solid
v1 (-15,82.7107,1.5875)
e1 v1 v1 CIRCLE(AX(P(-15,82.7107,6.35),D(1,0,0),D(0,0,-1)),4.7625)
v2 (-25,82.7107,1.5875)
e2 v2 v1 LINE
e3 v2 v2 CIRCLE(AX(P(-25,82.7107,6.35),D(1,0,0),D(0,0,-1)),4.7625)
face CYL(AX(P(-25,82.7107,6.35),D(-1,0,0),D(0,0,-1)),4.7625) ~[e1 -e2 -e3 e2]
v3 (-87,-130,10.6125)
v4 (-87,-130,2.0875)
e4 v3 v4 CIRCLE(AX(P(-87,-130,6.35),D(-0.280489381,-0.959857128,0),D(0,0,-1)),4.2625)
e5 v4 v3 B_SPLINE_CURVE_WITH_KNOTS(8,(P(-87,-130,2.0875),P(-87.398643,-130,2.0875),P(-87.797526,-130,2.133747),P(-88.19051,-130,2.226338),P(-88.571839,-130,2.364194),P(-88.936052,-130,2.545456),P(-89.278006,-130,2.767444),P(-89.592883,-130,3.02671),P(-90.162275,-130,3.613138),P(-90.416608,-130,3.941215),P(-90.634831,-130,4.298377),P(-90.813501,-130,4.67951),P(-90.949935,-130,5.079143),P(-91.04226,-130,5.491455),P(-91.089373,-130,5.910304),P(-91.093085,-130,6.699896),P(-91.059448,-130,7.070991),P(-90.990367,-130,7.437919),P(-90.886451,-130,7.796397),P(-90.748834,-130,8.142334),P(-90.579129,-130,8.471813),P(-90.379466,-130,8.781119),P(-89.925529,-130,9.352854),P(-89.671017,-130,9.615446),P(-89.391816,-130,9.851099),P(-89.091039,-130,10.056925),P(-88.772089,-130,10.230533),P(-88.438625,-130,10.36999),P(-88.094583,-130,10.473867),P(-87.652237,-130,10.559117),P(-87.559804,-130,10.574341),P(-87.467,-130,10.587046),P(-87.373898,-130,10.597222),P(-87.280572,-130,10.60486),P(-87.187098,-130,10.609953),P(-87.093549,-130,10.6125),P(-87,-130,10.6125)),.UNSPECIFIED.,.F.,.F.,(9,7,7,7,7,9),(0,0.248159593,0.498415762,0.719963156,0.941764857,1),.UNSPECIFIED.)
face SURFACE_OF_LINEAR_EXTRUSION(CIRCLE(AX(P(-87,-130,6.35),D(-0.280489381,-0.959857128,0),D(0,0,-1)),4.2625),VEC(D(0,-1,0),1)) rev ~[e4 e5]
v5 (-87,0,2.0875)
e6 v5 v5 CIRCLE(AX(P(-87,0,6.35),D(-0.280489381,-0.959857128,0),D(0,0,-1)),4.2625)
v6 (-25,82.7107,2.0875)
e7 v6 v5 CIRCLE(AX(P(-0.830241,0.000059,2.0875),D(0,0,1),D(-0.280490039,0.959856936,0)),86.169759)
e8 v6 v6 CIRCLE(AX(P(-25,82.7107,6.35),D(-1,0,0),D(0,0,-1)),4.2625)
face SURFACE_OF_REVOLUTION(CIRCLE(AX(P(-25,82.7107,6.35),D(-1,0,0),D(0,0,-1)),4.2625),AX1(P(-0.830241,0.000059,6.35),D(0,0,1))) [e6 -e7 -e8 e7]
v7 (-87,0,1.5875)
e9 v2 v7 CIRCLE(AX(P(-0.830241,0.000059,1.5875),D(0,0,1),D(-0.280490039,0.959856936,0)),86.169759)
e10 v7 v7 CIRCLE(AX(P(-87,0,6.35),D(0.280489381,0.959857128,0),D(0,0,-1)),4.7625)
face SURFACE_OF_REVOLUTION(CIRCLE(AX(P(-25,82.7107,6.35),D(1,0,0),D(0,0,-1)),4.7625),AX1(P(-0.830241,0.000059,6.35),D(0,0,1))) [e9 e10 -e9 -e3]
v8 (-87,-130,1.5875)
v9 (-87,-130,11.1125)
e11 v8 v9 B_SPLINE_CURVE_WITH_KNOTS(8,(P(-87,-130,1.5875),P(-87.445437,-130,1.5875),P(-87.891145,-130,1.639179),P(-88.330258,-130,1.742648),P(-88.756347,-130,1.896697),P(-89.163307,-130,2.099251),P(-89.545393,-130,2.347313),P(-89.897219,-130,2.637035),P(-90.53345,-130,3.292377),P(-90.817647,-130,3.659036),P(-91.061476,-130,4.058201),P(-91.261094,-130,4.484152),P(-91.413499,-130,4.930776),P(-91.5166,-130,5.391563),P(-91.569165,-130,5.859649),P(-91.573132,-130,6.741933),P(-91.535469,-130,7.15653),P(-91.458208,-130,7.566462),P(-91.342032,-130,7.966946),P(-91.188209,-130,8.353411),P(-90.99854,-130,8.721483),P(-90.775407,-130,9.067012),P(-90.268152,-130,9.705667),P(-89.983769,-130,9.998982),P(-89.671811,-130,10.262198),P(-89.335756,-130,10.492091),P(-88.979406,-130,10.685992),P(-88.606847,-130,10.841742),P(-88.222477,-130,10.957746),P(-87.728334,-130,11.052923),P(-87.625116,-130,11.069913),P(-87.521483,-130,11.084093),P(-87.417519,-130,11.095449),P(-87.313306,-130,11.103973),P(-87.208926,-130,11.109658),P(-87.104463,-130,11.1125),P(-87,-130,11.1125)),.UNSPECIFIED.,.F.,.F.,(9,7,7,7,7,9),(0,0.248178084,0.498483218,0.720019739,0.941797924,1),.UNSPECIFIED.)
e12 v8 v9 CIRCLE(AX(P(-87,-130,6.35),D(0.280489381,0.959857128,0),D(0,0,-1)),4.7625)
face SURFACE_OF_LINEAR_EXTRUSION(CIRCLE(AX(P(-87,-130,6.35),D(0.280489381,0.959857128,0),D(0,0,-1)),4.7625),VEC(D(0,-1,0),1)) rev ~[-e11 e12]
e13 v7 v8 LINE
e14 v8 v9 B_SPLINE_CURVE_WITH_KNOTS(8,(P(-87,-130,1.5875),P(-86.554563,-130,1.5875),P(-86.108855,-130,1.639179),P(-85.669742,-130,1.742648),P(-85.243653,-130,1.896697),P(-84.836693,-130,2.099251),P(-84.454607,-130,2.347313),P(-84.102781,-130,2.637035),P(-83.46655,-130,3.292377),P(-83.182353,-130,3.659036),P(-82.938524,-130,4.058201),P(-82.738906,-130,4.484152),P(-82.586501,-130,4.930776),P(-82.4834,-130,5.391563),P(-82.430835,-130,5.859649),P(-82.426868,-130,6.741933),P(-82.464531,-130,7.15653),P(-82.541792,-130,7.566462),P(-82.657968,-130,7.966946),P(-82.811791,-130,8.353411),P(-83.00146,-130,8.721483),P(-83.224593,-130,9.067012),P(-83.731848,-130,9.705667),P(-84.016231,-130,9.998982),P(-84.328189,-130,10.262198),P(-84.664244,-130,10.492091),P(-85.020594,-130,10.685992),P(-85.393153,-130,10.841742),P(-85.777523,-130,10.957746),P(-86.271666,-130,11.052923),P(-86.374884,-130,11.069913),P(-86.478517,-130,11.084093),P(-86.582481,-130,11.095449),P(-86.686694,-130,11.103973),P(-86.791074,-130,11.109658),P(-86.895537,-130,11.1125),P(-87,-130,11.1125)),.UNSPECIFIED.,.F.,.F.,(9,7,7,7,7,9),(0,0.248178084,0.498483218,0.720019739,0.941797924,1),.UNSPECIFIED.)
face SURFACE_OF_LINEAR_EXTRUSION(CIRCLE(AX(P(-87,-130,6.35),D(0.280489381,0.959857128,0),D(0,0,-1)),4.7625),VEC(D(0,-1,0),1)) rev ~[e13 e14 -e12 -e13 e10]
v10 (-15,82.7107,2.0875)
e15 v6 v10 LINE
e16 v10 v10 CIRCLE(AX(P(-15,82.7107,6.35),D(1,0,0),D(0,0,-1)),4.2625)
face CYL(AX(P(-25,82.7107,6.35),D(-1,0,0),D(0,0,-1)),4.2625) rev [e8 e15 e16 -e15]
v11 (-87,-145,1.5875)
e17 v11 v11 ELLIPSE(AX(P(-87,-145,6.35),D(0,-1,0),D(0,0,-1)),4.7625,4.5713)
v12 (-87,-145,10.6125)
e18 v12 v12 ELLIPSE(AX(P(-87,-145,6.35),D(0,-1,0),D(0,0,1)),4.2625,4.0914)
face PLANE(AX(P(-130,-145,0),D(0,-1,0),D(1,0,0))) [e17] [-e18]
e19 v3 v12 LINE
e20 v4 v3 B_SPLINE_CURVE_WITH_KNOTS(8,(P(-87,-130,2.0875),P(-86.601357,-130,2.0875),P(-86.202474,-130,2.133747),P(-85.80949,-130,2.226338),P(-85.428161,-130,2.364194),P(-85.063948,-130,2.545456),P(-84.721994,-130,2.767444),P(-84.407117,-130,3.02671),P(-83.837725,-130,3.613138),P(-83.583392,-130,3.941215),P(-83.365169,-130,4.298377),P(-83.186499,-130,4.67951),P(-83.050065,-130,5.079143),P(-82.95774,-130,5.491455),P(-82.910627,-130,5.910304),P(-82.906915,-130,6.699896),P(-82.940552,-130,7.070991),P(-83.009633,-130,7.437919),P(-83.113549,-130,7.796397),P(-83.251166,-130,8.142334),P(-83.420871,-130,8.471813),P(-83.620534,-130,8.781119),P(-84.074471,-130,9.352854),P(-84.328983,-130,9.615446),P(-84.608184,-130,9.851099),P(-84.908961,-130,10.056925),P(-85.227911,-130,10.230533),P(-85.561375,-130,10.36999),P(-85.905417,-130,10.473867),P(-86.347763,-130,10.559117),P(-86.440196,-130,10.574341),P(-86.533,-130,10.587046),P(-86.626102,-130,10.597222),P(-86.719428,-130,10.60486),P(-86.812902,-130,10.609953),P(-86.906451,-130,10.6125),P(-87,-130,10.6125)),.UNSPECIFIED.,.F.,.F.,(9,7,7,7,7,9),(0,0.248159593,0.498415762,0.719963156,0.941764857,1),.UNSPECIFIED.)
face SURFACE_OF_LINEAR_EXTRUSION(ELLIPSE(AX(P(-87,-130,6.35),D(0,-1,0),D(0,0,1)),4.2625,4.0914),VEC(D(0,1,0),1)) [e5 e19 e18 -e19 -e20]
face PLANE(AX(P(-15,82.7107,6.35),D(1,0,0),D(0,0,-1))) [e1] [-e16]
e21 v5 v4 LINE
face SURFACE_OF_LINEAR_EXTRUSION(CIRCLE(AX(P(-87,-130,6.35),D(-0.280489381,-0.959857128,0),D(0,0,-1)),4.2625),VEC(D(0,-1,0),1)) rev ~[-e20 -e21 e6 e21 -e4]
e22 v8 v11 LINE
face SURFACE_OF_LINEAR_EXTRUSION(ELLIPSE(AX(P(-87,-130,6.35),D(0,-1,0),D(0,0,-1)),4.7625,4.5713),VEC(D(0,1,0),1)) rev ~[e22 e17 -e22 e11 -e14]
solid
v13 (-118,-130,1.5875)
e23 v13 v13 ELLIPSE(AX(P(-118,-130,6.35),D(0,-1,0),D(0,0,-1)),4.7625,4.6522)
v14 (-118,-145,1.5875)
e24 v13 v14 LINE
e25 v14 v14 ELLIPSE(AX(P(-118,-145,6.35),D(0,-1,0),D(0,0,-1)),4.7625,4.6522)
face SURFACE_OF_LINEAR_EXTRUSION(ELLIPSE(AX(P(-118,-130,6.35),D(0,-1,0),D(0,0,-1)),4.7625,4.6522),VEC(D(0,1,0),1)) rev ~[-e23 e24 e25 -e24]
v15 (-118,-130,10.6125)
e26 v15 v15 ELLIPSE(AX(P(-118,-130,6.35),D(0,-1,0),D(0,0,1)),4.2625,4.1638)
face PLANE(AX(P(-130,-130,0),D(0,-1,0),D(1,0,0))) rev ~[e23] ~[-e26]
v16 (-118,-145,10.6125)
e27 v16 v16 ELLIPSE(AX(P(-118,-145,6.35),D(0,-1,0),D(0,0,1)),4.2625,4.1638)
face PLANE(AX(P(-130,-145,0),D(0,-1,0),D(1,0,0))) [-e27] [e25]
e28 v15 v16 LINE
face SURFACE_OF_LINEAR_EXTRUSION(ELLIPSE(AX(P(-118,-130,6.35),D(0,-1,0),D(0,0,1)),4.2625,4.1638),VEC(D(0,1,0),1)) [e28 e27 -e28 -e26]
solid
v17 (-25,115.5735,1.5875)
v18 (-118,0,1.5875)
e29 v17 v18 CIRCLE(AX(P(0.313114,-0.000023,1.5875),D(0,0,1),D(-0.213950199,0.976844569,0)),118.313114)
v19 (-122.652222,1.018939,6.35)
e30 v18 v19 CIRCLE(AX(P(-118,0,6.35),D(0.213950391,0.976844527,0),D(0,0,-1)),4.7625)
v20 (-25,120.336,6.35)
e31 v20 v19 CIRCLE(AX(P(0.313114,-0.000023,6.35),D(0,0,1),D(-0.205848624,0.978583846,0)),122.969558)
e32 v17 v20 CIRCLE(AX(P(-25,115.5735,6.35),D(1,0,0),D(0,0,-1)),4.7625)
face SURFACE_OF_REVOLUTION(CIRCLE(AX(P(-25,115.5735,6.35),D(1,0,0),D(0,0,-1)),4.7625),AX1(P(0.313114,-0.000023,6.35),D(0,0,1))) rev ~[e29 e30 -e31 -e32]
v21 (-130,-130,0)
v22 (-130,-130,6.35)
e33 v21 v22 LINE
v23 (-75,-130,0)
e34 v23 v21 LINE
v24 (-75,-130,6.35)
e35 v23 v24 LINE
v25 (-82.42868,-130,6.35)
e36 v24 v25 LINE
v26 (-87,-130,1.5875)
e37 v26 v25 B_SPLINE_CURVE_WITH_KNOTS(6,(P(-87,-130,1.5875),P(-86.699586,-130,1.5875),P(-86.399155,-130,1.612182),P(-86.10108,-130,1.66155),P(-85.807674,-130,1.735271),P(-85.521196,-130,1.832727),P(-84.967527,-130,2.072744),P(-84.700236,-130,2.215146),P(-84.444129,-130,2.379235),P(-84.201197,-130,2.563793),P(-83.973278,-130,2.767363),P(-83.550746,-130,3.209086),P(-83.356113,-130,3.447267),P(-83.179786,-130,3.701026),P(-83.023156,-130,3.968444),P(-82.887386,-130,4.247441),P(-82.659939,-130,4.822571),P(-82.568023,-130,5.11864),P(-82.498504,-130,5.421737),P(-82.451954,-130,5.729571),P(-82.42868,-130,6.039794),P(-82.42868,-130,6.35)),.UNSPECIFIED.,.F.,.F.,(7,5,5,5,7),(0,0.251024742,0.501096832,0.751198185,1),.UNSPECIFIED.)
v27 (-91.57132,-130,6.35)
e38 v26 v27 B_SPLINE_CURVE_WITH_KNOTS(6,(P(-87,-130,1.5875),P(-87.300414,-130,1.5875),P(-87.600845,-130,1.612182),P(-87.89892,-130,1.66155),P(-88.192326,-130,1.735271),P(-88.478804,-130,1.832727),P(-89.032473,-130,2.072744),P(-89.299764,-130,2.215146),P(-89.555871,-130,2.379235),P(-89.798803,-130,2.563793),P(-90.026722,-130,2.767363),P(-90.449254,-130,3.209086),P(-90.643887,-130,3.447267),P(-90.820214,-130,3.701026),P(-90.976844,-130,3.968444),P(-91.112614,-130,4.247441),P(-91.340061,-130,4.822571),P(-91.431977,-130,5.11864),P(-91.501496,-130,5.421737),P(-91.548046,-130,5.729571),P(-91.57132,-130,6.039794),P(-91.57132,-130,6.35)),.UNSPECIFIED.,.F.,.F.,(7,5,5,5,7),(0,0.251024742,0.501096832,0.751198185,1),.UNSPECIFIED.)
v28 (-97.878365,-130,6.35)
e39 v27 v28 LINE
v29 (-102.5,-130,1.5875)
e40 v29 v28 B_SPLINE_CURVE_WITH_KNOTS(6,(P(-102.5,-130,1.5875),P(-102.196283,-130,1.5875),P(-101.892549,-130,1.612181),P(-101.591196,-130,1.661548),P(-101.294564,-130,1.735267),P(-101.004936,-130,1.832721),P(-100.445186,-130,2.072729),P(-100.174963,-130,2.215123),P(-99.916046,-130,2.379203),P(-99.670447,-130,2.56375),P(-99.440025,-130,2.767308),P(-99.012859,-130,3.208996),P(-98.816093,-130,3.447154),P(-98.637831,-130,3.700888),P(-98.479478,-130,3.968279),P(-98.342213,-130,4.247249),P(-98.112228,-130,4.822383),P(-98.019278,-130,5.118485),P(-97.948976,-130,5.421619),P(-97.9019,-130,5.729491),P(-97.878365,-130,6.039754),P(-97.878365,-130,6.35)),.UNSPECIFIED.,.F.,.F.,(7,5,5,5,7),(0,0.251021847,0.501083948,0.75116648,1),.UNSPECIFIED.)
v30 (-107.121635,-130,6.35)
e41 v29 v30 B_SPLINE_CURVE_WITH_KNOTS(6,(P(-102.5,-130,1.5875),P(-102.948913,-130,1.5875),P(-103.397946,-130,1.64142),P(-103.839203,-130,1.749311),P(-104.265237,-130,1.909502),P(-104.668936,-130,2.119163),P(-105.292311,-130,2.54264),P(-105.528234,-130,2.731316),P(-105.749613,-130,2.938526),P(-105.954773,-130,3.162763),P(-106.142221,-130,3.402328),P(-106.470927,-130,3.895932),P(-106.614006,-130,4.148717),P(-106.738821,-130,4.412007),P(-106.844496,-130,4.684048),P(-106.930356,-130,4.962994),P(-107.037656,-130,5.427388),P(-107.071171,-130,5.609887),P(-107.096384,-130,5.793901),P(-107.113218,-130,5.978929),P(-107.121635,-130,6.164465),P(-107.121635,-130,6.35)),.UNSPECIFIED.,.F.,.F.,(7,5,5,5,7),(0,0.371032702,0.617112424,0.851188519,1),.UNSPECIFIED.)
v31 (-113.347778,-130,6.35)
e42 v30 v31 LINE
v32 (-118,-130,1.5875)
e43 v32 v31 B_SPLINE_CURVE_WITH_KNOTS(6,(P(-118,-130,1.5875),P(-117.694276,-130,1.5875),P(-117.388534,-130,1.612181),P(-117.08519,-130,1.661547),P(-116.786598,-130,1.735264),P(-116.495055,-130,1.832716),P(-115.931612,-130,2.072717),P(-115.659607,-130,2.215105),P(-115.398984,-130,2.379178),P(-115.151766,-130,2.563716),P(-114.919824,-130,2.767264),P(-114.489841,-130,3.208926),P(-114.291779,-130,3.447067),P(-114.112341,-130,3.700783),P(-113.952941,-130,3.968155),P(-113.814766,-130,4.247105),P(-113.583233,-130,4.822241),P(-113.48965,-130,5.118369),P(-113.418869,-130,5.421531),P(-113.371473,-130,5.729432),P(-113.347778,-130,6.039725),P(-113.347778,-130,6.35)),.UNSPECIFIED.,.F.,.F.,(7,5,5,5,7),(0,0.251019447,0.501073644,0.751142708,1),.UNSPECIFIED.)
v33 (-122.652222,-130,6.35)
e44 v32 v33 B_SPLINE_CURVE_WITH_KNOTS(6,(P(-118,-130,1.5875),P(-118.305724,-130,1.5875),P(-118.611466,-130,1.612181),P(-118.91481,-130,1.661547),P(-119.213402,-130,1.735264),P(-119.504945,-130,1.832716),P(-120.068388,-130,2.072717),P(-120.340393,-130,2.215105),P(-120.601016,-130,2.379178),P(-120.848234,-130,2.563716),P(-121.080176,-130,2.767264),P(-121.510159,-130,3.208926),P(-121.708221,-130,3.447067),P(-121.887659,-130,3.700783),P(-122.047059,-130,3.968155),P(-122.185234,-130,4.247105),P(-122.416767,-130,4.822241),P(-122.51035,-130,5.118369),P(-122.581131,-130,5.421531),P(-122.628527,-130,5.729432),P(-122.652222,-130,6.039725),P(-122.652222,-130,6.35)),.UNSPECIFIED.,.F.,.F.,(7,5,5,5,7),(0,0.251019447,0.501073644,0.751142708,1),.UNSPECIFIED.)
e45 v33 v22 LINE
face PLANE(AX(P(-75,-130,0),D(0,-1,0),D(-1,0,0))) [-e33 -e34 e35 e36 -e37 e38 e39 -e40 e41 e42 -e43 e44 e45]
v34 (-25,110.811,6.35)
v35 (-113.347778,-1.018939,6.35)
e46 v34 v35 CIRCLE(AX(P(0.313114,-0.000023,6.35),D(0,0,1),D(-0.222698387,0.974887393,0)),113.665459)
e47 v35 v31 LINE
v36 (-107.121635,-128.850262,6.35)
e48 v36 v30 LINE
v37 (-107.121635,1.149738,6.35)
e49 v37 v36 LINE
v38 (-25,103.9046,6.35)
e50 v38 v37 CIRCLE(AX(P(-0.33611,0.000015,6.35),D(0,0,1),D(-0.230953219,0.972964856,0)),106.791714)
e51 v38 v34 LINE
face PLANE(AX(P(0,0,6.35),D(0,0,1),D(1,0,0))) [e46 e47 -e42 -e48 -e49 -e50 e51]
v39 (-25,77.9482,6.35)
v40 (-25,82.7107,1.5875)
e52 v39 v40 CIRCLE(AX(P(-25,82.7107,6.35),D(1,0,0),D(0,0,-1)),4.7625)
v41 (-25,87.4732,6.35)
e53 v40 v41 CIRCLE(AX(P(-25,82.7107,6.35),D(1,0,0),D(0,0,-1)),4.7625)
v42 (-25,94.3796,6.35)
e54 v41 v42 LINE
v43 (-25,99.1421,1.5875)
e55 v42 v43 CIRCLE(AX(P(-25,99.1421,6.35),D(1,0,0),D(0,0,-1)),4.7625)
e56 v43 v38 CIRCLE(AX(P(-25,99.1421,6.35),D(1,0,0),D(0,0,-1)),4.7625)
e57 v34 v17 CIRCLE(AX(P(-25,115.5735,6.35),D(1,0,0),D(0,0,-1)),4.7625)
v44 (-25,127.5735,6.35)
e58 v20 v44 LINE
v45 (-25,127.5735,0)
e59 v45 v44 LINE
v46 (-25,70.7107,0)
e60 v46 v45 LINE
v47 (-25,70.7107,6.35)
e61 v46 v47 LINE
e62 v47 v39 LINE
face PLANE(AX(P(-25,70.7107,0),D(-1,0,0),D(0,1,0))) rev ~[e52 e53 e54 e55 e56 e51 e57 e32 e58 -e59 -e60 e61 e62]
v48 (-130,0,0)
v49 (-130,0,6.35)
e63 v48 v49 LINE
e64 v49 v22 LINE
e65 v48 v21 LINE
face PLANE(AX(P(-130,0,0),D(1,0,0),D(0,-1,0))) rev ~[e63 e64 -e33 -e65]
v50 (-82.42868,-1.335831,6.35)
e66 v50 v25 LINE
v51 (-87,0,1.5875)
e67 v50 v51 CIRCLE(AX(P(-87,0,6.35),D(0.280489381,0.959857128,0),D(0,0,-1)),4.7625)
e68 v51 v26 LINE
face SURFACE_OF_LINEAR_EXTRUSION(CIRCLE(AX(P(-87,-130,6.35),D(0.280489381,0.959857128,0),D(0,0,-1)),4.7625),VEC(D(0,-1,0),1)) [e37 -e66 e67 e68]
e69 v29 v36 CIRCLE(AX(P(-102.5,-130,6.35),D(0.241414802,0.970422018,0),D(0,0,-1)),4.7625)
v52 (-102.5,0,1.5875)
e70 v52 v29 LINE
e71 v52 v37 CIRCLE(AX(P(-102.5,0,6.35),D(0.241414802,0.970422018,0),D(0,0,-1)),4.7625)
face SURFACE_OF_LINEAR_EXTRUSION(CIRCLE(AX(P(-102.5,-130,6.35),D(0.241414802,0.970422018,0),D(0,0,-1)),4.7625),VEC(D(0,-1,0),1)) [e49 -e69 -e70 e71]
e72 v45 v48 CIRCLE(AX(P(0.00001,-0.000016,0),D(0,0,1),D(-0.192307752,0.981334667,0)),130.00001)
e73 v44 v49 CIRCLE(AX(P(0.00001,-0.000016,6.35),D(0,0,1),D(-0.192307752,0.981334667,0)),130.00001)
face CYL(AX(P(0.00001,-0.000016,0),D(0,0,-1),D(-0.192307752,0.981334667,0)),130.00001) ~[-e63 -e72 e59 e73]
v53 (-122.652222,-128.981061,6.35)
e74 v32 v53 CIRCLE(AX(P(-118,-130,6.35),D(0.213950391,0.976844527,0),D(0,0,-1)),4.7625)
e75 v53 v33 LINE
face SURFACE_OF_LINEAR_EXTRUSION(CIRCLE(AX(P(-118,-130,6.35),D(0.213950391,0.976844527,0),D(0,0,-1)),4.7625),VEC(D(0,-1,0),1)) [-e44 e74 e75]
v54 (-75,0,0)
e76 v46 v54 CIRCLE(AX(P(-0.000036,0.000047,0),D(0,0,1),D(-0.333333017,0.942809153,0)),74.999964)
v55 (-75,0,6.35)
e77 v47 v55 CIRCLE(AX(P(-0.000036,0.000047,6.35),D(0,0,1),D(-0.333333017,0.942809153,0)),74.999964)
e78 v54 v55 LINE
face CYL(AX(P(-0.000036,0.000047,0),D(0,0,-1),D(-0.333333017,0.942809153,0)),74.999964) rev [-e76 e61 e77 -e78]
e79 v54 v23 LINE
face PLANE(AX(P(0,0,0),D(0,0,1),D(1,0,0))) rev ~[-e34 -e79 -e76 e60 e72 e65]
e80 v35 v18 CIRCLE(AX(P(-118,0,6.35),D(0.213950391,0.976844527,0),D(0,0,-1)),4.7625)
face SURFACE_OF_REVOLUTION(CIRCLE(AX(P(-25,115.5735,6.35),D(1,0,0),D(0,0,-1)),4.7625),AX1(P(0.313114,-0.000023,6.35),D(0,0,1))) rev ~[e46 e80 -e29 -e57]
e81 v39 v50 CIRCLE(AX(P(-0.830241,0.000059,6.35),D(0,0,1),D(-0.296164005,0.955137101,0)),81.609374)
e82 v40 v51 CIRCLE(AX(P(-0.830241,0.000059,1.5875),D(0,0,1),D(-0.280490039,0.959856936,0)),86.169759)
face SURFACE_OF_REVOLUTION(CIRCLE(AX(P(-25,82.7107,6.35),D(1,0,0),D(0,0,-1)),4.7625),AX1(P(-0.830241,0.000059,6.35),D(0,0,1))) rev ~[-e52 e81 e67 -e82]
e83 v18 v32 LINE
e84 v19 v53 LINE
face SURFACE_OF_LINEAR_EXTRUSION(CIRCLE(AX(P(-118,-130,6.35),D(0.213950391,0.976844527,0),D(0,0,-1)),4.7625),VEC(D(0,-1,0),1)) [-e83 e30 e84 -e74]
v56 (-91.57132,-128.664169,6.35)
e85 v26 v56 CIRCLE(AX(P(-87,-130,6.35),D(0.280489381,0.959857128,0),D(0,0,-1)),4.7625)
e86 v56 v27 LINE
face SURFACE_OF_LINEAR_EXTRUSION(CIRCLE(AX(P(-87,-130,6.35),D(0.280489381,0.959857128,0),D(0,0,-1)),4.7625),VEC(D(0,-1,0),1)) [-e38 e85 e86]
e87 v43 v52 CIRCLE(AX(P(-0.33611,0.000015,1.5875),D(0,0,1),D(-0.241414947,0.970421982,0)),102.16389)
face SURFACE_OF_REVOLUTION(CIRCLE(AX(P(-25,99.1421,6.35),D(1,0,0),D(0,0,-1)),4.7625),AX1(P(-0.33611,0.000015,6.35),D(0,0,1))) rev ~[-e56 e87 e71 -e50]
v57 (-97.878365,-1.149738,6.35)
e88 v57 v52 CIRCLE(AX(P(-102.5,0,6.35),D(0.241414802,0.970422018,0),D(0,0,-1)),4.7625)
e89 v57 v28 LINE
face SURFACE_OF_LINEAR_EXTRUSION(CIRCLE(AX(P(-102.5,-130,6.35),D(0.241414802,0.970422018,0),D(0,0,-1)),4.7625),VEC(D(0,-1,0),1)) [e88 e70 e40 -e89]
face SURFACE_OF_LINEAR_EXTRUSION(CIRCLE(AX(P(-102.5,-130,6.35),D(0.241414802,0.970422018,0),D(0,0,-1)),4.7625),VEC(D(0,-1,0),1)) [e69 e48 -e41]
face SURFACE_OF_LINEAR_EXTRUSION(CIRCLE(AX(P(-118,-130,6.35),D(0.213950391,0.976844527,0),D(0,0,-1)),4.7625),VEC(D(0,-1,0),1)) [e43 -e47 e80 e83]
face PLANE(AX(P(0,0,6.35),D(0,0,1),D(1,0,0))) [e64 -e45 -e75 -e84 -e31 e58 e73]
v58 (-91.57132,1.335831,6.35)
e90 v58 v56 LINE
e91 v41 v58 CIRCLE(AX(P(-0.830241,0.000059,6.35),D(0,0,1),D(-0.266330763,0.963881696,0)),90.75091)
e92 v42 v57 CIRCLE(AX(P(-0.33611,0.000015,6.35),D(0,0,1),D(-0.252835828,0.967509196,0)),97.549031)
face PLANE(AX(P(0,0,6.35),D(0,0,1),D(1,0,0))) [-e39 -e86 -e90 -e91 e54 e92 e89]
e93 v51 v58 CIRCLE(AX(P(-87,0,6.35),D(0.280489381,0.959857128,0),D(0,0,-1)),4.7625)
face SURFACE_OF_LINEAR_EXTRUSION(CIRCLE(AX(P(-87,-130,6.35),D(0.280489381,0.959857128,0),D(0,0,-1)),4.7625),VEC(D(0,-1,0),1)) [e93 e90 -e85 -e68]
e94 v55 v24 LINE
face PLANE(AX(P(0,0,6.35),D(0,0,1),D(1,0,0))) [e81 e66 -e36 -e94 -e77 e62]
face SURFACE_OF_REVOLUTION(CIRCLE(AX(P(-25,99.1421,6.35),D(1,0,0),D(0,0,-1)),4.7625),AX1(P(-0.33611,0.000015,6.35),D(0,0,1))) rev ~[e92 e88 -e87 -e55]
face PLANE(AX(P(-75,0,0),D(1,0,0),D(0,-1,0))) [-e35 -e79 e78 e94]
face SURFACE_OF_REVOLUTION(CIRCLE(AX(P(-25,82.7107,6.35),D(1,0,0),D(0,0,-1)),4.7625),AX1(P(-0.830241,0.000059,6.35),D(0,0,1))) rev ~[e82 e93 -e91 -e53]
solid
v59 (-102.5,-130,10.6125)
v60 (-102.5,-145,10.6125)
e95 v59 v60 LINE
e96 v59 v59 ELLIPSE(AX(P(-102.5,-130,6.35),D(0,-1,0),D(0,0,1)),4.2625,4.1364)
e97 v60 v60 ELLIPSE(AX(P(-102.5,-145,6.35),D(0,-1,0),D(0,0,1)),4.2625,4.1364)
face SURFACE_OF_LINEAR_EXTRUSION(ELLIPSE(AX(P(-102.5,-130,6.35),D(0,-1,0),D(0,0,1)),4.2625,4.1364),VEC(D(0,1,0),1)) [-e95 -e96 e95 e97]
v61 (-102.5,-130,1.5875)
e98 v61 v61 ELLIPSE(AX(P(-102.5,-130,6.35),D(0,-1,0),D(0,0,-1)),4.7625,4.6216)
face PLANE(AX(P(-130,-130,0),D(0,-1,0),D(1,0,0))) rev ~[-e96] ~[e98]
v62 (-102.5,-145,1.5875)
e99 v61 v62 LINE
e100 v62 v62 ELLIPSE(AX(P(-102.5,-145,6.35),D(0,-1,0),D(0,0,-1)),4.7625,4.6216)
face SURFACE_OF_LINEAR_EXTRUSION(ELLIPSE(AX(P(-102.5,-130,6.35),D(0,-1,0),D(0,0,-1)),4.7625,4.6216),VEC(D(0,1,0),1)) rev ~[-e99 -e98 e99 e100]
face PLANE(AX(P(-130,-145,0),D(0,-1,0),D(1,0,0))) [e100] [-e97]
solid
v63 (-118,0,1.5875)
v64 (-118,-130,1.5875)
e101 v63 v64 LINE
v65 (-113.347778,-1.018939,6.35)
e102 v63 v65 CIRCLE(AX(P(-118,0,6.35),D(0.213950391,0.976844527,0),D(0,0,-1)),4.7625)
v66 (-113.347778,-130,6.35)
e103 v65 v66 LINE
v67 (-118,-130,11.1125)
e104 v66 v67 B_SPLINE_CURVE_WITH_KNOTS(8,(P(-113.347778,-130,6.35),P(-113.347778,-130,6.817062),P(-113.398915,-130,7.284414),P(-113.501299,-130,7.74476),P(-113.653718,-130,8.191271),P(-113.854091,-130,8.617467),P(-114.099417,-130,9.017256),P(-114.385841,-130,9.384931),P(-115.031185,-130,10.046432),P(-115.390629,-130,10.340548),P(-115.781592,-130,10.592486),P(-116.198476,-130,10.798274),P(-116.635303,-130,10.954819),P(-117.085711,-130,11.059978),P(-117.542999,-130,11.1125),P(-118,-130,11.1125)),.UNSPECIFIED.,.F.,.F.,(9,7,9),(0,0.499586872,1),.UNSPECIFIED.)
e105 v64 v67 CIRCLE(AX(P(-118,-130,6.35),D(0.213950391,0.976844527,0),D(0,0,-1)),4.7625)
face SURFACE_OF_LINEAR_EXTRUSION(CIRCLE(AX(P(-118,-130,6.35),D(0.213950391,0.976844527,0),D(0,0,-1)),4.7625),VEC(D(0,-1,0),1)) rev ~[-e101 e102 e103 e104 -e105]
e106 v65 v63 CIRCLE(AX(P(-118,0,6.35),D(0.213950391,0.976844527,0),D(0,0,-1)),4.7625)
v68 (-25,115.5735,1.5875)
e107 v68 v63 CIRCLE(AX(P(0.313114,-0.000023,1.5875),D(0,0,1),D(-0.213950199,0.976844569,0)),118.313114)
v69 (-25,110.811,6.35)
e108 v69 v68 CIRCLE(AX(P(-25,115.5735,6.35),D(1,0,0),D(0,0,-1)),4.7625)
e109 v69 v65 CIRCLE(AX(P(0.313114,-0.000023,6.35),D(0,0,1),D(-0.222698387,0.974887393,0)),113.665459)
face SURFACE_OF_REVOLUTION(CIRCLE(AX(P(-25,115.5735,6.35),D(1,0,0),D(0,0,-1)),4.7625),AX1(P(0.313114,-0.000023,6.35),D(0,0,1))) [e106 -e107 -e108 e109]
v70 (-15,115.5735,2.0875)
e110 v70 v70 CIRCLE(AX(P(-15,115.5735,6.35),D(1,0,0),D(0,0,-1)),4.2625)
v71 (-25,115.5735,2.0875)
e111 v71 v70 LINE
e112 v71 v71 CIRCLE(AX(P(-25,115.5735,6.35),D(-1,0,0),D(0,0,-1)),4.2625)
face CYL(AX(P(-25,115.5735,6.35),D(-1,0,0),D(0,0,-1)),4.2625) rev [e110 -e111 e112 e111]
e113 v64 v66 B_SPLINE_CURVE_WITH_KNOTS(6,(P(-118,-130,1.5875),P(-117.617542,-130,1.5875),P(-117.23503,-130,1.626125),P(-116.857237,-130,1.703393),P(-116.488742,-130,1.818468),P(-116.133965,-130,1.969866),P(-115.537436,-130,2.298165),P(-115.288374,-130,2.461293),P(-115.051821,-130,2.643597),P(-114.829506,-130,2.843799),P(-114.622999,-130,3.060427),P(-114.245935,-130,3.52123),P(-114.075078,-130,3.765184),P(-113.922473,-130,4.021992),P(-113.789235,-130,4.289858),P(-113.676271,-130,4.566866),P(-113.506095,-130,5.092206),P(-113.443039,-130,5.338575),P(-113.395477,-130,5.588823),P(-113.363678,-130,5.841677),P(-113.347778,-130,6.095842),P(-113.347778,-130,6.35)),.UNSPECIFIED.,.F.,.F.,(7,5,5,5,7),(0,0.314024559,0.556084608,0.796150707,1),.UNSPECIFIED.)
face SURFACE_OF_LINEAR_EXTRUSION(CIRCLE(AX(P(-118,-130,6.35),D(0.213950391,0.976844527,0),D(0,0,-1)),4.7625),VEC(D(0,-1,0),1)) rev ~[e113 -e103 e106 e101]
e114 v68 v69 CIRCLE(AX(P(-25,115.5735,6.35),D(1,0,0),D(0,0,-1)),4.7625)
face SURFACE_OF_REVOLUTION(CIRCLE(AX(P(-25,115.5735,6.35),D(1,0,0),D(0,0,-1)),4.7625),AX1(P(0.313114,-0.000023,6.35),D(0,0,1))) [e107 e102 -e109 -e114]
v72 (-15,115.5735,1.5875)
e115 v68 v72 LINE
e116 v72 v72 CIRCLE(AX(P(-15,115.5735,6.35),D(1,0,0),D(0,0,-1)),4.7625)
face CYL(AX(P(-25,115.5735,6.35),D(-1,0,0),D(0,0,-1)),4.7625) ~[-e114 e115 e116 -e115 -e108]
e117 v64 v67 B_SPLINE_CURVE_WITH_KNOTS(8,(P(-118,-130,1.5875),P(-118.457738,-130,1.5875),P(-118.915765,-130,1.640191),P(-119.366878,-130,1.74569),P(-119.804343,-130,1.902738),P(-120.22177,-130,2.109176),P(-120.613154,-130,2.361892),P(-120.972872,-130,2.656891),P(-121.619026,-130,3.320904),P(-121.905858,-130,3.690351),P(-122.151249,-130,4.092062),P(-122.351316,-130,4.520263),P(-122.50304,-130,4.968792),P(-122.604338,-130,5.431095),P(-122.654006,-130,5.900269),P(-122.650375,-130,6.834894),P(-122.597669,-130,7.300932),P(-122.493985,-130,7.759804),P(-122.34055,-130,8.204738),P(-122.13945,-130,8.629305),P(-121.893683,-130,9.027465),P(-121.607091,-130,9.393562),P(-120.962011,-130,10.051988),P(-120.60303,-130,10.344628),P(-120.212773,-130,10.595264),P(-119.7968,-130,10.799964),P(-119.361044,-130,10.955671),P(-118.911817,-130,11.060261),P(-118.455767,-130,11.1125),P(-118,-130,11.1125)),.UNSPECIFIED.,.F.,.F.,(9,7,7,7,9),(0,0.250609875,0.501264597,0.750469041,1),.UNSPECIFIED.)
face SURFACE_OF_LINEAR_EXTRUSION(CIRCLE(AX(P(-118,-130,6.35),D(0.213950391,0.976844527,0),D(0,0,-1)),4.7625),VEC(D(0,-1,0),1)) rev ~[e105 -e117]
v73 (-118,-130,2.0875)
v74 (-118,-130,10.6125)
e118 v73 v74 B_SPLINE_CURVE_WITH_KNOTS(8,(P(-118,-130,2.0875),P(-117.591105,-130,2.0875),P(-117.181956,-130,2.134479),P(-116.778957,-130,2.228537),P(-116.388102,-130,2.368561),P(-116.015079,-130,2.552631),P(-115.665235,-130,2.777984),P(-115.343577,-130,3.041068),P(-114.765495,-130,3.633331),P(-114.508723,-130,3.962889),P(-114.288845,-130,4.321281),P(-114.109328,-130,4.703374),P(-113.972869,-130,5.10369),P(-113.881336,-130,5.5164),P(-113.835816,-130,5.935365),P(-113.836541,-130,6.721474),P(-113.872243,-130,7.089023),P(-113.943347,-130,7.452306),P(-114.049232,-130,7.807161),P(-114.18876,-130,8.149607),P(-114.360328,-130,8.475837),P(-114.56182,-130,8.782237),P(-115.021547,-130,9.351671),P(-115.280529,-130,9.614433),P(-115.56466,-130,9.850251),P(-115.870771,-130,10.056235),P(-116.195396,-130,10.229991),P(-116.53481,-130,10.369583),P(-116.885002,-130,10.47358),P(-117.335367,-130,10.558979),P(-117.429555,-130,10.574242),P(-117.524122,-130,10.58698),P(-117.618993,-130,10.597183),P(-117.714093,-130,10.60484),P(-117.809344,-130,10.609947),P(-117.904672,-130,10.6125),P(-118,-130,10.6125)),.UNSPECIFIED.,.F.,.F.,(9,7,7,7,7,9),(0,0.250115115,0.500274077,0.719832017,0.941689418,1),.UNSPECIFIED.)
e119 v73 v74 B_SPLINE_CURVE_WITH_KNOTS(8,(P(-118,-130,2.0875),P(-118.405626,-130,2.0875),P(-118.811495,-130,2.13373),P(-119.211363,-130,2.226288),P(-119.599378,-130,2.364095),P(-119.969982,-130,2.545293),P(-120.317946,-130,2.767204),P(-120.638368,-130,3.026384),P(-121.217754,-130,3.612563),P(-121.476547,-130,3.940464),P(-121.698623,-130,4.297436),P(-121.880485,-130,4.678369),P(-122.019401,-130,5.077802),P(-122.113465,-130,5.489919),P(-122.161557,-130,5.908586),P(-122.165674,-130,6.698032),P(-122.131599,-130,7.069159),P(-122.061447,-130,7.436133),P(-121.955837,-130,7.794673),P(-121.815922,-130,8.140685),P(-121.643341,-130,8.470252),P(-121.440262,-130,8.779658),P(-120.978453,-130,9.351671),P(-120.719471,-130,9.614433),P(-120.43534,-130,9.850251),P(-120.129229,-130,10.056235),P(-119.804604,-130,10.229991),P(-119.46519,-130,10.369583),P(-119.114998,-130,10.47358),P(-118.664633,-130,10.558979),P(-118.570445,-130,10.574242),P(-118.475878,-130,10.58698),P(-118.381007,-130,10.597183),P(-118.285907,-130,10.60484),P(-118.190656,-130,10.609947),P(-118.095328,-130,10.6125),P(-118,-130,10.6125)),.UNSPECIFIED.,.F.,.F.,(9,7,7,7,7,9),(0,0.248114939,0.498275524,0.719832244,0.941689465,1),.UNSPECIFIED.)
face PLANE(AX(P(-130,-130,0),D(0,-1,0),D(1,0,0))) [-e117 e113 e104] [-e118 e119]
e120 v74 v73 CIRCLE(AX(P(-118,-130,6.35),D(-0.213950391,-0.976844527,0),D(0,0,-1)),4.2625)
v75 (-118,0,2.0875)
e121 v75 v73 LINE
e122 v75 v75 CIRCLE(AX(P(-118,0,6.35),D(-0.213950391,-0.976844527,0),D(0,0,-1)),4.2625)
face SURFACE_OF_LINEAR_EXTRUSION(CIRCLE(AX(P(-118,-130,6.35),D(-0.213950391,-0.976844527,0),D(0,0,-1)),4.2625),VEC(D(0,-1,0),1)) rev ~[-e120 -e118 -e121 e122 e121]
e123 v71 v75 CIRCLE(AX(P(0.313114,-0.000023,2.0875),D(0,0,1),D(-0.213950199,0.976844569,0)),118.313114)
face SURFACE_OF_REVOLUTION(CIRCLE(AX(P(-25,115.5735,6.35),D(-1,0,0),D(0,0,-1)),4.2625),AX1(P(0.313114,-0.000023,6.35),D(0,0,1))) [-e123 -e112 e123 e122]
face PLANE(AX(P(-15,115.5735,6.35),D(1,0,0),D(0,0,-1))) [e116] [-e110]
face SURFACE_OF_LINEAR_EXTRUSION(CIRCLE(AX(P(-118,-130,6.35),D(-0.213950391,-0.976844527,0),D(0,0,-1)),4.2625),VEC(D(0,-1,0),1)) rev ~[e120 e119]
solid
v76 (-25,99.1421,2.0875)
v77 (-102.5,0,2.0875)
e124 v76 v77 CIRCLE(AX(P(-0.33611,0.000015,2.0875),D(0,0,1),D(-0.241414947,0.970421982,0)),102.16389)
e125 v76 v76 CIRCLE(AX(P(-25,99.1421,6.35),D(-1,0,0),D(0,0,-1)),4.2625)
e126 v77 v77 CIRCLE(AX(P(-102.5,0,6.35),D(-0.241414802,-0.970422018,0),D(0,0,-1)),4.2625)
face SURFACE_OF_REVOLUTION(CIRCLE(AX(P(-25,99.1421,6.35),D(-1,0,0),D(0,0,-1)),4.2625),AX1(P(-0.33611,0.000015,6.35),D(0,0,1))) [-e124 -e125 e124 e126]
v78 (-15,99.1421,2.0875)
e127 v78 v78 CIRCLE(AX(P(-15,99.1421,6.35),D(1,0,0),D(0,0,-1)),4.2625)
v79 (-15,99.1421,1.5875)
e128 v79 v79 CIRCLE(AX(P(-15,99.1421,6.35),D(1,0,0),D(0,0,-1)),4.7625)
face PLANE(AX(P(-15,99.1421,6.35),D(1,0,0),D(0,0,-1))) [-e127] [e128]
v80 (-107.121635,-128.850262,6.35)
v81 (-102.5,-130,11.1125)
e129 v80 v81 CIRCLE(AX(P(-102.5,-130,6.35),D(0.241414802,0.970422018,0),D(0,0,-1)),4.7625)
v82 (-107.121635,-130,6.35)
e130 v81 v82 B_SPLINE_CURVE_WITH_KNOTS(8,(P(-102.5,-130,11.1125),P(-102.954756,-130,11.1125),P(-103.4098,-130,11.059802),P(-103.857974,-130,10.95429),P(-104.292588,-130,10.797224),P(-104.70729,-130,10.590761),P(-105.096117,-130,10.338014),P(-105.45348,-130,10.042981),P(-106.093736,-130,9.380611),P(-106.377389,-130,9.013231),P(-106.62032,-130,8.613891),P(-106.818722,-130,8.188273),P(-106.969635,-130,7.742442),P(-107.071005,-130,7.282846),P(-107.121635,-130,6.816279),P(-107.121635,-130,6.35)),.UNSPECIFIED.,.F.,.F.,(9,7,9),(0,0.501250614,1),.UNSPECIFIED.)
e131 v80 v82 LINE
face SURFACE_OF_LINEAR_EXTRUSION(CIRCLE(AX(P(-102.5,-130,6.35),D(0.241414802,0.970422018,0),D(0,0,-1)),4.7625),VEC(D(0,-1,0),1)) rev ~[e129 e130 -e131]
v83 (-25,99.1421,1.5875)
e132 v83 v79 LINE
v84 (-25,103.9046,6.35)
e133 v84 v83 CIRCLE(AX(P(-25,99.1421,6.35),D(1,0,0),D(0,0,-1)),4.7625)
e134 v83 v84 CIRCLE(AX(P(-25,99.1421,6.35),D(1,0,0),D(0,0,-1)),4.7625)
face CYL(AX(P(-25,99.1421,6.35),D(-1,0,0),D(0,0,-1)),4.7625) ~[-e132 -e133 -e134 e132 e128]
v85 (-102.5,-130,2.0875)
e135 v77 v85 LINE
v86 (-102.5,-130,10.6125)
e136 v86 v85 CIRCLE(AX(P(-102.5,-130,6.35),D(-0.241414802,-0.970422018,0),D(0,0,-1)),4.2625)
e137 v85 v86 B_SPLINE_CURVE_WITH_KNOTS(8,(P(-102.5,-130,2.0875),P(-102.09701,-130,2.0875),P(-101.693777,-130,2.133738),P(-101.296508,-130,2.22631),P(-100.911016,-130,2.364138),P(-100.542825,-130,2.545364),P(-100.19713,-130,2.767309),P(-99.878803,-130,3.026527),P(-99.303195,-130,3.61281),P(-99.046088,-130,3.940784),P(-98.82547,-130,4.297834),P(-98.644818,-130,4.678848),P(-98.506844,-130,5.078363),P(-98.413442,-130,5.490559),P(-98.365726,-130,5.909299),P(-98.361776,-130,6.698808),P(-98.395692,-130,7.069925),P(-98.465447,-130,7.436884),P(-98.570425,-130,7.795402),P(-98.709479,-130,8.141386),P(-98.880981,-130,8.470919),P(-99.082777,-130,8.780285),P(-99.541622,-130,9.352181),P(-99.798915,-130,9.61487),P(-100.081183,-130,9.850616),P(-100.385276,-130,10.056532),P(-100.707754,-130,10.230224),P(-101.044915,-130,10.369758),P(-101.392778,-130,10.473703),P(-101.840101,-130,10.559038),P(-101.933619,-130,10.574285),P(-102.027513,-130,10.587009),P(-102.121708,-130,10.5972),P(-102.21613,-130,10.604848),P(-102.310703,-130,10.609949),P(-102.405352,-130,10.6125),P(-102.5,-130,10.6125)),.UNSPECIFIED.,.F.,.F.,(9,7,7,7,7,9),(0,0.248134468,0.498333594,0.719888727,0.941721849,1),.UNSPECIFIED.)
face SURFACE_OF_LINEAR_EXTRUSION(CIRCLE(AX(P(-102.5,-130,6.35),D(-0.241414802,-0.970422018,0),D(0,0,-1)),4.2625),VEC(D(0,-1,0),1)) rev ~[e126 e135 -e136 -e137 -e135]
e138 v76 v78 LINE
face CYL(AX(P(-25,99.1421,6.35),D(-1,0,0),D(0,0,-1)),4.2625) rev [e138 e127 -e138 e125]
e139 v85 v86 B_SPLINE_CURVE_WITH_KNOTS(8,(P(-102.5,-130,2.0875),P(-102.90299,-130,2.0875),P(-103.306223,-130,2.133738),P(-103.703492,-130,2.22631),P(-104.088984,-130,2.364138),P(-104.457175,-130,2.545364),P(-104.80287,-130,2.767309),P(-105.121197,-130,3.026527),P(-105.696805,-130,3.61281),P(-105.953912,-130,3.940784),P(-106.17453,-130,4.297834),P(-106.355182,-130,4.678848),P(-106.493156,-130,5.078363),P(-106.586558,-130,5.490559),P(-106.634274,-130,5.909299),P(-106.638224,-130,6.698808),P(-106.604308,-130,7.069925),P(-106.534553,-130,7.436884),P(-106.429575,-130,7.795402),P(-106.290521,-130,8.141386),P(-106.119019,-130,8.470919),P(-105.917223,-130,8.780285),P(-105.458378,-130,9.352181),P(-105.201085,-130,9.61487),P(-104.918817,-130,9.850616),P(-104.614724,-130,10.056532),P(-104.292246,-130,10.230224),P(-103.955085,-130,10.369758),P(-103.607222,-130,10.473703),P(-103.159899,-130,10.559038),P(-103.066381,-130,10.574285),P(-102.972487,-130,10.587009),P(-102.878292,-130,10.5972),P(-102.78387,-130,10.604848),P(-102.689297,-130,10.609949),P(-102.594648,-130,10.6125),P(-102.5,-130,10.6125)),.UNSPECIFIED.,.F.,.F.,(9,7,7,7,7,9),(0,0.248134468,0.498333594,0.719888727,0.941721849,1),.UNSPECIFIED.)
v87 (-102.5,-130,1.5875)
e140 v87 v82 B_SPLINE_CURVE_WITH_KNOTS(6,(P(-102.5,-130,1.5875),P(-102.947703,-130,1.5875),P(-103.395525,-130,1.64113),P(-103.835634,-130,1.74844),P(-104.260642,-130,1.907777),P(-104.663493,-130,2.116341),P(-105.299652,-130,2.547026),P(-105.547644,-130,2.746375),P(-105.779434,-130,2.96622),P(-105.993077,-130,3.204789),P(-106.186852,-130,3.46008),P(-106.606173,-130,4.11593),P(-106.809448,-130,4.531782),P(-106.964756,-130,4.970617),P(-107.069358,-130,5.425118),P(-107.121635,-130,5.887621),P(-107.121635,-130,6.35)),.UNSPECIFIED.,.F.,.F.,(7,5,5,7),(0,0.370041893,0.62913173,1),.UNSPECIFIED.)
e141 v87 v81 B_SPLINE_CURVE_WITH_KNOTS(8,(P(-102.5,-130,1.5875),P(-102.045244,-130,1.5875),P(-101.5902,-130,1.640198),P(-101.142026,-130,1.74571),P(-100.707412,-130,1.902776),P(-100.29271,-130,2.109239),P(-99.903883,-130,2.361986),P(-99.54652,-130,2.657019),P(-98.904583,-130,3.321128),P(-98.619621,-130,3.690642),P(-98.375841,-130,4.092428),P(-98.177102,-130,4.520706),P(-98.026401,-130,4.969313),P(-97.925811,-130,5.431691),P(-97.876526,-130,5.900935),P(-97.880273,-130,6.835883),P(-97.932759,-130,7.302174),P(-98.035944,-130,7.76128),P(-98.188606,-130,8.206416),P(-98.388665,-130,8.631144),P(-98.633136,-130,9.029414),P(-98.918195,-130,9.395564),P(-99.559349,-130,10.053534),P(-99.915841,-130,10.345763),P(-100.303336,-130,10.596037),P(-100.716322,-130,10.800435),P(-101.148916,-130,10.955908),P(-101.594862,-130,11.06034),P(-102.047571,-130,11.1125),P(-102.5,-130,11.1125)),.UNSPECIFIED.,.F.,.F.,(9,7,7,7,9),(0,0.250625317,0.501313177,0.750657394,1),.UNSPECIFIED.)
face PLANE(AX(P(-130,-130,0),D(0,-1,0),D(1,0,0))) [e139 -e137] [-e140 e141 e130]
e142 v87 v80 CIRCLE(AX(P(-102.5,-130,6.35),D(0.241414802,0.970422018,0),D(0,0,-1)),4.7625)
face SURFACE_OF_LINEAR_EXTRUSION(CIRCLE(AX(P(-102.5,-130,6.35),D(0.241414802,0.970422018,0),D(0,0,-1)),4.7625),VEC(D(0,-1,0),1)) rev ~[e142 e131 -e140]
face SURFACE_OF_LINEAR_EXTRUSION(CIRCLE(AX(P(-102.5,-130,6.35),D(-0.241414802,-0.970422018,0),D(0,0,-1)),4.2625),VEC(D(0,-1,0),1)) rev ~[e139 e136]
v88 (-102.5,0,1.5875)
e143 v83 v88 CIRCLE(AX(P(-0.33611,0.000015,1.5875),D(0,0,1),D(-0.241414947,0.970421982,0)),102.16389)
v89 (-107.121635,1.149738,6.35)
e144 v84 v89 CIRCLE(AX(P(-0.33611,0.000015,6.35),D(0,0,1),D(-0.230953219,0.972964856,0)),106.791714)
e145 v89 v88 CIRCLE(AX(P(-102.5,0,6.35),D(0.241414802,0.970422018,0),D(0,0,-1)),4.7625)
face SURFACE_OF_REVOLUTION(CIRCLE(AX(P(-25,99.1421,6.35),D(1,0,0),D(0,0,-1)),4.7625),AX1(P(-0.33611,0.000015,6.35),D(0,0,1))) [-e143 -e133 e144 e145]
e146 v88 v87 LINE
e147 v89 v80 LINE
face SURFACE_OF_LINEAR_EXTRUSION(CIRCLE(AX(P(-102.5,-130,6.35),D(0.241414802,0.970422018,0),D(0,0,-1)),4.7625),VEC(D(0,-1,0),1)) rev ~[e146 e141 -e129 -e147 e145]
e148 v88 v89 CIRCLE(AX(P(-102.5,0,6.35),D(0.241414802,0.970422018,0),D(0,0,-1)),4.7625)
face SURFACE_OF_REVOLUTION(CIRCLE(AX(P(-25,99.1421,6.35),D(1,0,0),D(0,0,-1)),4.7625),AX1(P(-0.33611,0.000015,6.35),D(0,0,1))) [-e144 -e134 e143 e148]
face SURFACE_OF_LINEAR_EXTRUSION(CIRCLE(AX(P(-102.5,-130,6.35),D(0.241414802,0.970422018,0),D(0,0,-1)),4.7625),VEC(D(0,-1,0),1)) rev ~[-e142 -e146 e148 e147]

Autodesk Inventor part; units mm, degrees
ref_plane "YZ Plane" through (0, 0, 0) normal (1, 0, 0) x (0, 1, 0)
ref_plane "XZ Plane" through (0, 0, 0) normal (0, 1, 0) x (-1, 0, 0)
ref_plane "XY Plane" through (0, 0, 0) normal (0, 0, 1) x (1, 0, 0)
sketch "Sketch1" plane through (0, 0, 0) normal (0, 0, 1) x (1, 0, 0)
  circle A0 centre (0, 0) radius 75 construction
  circle A1 centre (0, 0) radius 130 construction
  line L0 (-130, 0) -> (-130, -130)
  line L1 (-75, 0) -> (-75, -130)
  line L2 (-75, -130) -> (-130, -130)
  line L3 (0, 0) -> (-25, 0) construction
  line L4 (-25, 0) -> (-25, 130) construction
  line L5 (-25, 130) -> (0, 130) construction
  line L6 (0, 130) -> (0, 0) construction
  arc A2 (-25, 127.5735) -> (-130, 0) centre (0, 0) ccw
  arc A3 (-25, 70.7107) -> (-75, 0) centre (0, 0) ccw
  line L7 (-25, 70.7107) -> (-25, 127.5735)
  dimension "d0" = 150
  dimension "d1" = 55
  dimension "d2" = 130
  dimension "d3" = 25
extrude "Extrusion1" add sketch "Sketch1" along normal blind 6.35
sketch "Sketch2" plane through (-25, 70.7107, 0) normal (1, 0, 0) x (0, 0, -1)
  line L0 (-6.35, 0) -> (-6.35, 56.8628) projected
  circle A0 centre (-6.35, 12) radius 4.7625
  circle A1 centre (-6.35, 28.4314) radius 4.7625
  circle A2 centre (-6.35, 44.8628) radius 4.7625
  point P0 (0, -70.7107)
  dimension "d6" = 9.525
  dimension "d7" = 9.525
  dimension "d8" = 9.525
  dimension "d9" = 12
  dimension "d10" = 12
sketch "Sketch5" plane through (0, 0, 6.35) normal (0, 0, 1) x (1, 0, 0)
  line L0 (-130, 0) -> (-130, -130) projected
  line L1 (-75, -130) -> (-75, 0) projected
  line L2 (-130, 0) -> (-75, 0)
  line L3 (-130, -130) -> (-75, -130) projected
  line L4 (-118, -130) -> (-118, 0)
  line L5 (-102.5, -130) -> (-102.5, 0)
  line L6 (-87, -130) -> (-87, 0)
  arc A0 (-25, 115.5735) -> (-118, 0) centre (0.3131, 0) ccw
  arc A1 (-25, 99.1421) -> (-102.5, 0) centre (-0.3361, 0) ccw
  arc A2 (-25, 82.7107) -> (-87, 0) centre (-0.8302, 0) ccw
  line L7 (-118, -130) -> (-118, -143.1393)
  line L8 (-102.5, -130) -> (-102.5, -141.8458)
  line L9 (-87, -130) -> (-87, -139.9056)
  point P0 (0, 0)
  dimension "d16" = 12
  dimension "d17" = 12
sweep "Sweep2" cut profiles "Sketch2" path "Sketch5" path curves A2 L6 L9 contours A0 L0 | L0 A0
sweep "Sweep3" cut profiles "Sketch2" path "Sketch5" path curves A1 L5 L8 contours A1 L0 | L0 A1
sweep "Sweep4" cut profiles "Sketch2" path "Sketch5" path curves A0 L4 L7 contours A2 L0 | L0 A2
sketch "Sketch6" plane through (-25, 70.7107, 0) normal (1, 0, 0) x (0, 0, -1)
  arc A0 (-6.35, 7.2375) -> (-6.35, 16.7625) centre (-6.35, 12) ccw construction
  arc A1 (-6.35, 23.6689) -> (-6.35, 33.1939) centre (-6.35, 28.4314) ccw construction
  arc A2 (-6.35, 40.1003) -> (-6.35, 49.6253) centre (-6.35, 44.8628) ccw construction
  circle A3 centre (-6.35, 12) radius 4.7625
  circle A4 centre (-6.35, 28.4314) radius 4.7625
  line L0 (-6.35, 33.1939) -> (-6.35, 40.1003) projected
  circle A5 centre (-6.35, 44.8628) radius 4.7625
  circle A6 centre (-6.35, 12) radius 4.2625
  circle A7 centre (-6.35, 28.4314) radius 4.2625
  circle A8 centre (-6.35, 44.8628) radius 4.2625
  point P0 (0, -70.7107)
  dimension "d24" = 0.5
  dimension "d25" = 0.5
  dimension "d26" = 0.5
sweep "Sweep5" add profiles "Sketch6" path "Sketch5" separate body path curves A2 L6 L9 contours A3
sweep "Sweep6" add profiles "Sketch6" path "Sketch5" separate body path curves A1 L5 L8 contours A4
sweep "Sweep7" add profiles "Sketch6" path "Sketch5" separate body path curves A0 L4 L7 contours A5
sketch "Sketch7" plane through (-130, -130, 0) normal (0, -1, 0) x (1, 0, 0)
  line L0 (55, 0) -> (0, 0)
  line L1 (0, 0) -> (0, 25)
  line L2 (0, 25) -> (55, 25)
  line L3 (55, 25) -> (55, 0)
  point P0 (130, 0)
  dimension "d33" = 25
  dimension "d34" = 55
extrude "Extrusion2" cut sketch "Sketch7" along normal through all bodies 2 3 4
sketch "Sketch8" plane through (-130, -130, 0) normal (0, -1, 0) x (1, 0, 0)
  ellipse E0 centre (12, 6.35) end of major axis (12, 10.6125) minor radius 4.1638 projected
  ellipse E1 centre (12, 6.35) end of major axis (12, 1.5875) minor radius 4.6522 projected
  point P0 (130, 0)
extrude "Extrusion3" add sketch "Sketch8" along normal blind 15 bodies 2
sketch "Sketch9" plane through (-130, -130, 0) normal (0, -1, 0) x (1, 0, 0)
  ellipse E0 centre (27.5, 6.35) end of major axis (27.5, 10.6125) minor radius 4.1364 projected
  ellipse E1 centre (27.5, 6.35) end of major axis (27.5, 1.5875) minor radius 4.6216 projected
  point P0 (130, 0)
extrude "Extrusion4" add sketch "Sketch9" along normal blind 15 bodies 2
sketch "Sketch10" plane through (-130, -130, 0) normal (0, -1, 0) x (1, 0, 0)
  ellipse E0 centre (43, 6.35) end of major axis (43, 10.6125) minor radius 4.0914 projected
  ellipse E1 centre (43, 6.35) end of major axis (43, 1.5875) minor radius 4.5713 projected
  point P0 (130, 0)
extrude "Extrusion5" add sketch "Sketch10" along normal blind 15 bodies 2
sketch "Sketch11" plane through (-25, 82.7107, 6.35) normal (1, 0, 0) x (0, 0, -1)
  circle A0 centre (0, 0) radius 4.2625 projected
  circle A1 centre (0, 0) radius 4.7625 projected
  point P0 (6.35, -82.7107)
  point P1 (4.2625, 0)
  point P2 (4.7625, 0)
extrude "Extrusion6" add sketch "Sketch11" along normal blind 10 bodies 2
sketch "Sketch12" plane through (-25, 99.1421, 6.35) normal (1, 0, 0) x (0, 0, -1)
  circle A0 centre (0, 0) radius 4.2625 projected
  circle A1 centre (0, 0) radius 4.7625 projected
  point P0 (6.35, -99.1421)
  point P1 (4.2625, 0)
  point P2 (4.7625, 0)
extrude "Extrusion7" add sketch "Sketch12" along normal blind 10 bodies 3
sketch "Sketch13" plane through (-25, 115.5735, 6.35) normal (1, 0, 0) x (0, 0, -1)
  circle A0 centre (0, 0) radius 4.2625 projected
  circle A1 centre (0, 0) radius 4.7625 projected
  point P0 (6.35, -115.5735)
  point P1 (4.2625, 0)
  point P2 (4.7625, 0)
extrude "Extrusion8" add sketch "Sketch13" along normal blind 10 bodies 4
equation "\"d10\" = d9"
equation "\"d16\" = d9"
equation "\"d17\" = d16"
properties part number "1123_Top Heat Sink" material "Aluminum"
